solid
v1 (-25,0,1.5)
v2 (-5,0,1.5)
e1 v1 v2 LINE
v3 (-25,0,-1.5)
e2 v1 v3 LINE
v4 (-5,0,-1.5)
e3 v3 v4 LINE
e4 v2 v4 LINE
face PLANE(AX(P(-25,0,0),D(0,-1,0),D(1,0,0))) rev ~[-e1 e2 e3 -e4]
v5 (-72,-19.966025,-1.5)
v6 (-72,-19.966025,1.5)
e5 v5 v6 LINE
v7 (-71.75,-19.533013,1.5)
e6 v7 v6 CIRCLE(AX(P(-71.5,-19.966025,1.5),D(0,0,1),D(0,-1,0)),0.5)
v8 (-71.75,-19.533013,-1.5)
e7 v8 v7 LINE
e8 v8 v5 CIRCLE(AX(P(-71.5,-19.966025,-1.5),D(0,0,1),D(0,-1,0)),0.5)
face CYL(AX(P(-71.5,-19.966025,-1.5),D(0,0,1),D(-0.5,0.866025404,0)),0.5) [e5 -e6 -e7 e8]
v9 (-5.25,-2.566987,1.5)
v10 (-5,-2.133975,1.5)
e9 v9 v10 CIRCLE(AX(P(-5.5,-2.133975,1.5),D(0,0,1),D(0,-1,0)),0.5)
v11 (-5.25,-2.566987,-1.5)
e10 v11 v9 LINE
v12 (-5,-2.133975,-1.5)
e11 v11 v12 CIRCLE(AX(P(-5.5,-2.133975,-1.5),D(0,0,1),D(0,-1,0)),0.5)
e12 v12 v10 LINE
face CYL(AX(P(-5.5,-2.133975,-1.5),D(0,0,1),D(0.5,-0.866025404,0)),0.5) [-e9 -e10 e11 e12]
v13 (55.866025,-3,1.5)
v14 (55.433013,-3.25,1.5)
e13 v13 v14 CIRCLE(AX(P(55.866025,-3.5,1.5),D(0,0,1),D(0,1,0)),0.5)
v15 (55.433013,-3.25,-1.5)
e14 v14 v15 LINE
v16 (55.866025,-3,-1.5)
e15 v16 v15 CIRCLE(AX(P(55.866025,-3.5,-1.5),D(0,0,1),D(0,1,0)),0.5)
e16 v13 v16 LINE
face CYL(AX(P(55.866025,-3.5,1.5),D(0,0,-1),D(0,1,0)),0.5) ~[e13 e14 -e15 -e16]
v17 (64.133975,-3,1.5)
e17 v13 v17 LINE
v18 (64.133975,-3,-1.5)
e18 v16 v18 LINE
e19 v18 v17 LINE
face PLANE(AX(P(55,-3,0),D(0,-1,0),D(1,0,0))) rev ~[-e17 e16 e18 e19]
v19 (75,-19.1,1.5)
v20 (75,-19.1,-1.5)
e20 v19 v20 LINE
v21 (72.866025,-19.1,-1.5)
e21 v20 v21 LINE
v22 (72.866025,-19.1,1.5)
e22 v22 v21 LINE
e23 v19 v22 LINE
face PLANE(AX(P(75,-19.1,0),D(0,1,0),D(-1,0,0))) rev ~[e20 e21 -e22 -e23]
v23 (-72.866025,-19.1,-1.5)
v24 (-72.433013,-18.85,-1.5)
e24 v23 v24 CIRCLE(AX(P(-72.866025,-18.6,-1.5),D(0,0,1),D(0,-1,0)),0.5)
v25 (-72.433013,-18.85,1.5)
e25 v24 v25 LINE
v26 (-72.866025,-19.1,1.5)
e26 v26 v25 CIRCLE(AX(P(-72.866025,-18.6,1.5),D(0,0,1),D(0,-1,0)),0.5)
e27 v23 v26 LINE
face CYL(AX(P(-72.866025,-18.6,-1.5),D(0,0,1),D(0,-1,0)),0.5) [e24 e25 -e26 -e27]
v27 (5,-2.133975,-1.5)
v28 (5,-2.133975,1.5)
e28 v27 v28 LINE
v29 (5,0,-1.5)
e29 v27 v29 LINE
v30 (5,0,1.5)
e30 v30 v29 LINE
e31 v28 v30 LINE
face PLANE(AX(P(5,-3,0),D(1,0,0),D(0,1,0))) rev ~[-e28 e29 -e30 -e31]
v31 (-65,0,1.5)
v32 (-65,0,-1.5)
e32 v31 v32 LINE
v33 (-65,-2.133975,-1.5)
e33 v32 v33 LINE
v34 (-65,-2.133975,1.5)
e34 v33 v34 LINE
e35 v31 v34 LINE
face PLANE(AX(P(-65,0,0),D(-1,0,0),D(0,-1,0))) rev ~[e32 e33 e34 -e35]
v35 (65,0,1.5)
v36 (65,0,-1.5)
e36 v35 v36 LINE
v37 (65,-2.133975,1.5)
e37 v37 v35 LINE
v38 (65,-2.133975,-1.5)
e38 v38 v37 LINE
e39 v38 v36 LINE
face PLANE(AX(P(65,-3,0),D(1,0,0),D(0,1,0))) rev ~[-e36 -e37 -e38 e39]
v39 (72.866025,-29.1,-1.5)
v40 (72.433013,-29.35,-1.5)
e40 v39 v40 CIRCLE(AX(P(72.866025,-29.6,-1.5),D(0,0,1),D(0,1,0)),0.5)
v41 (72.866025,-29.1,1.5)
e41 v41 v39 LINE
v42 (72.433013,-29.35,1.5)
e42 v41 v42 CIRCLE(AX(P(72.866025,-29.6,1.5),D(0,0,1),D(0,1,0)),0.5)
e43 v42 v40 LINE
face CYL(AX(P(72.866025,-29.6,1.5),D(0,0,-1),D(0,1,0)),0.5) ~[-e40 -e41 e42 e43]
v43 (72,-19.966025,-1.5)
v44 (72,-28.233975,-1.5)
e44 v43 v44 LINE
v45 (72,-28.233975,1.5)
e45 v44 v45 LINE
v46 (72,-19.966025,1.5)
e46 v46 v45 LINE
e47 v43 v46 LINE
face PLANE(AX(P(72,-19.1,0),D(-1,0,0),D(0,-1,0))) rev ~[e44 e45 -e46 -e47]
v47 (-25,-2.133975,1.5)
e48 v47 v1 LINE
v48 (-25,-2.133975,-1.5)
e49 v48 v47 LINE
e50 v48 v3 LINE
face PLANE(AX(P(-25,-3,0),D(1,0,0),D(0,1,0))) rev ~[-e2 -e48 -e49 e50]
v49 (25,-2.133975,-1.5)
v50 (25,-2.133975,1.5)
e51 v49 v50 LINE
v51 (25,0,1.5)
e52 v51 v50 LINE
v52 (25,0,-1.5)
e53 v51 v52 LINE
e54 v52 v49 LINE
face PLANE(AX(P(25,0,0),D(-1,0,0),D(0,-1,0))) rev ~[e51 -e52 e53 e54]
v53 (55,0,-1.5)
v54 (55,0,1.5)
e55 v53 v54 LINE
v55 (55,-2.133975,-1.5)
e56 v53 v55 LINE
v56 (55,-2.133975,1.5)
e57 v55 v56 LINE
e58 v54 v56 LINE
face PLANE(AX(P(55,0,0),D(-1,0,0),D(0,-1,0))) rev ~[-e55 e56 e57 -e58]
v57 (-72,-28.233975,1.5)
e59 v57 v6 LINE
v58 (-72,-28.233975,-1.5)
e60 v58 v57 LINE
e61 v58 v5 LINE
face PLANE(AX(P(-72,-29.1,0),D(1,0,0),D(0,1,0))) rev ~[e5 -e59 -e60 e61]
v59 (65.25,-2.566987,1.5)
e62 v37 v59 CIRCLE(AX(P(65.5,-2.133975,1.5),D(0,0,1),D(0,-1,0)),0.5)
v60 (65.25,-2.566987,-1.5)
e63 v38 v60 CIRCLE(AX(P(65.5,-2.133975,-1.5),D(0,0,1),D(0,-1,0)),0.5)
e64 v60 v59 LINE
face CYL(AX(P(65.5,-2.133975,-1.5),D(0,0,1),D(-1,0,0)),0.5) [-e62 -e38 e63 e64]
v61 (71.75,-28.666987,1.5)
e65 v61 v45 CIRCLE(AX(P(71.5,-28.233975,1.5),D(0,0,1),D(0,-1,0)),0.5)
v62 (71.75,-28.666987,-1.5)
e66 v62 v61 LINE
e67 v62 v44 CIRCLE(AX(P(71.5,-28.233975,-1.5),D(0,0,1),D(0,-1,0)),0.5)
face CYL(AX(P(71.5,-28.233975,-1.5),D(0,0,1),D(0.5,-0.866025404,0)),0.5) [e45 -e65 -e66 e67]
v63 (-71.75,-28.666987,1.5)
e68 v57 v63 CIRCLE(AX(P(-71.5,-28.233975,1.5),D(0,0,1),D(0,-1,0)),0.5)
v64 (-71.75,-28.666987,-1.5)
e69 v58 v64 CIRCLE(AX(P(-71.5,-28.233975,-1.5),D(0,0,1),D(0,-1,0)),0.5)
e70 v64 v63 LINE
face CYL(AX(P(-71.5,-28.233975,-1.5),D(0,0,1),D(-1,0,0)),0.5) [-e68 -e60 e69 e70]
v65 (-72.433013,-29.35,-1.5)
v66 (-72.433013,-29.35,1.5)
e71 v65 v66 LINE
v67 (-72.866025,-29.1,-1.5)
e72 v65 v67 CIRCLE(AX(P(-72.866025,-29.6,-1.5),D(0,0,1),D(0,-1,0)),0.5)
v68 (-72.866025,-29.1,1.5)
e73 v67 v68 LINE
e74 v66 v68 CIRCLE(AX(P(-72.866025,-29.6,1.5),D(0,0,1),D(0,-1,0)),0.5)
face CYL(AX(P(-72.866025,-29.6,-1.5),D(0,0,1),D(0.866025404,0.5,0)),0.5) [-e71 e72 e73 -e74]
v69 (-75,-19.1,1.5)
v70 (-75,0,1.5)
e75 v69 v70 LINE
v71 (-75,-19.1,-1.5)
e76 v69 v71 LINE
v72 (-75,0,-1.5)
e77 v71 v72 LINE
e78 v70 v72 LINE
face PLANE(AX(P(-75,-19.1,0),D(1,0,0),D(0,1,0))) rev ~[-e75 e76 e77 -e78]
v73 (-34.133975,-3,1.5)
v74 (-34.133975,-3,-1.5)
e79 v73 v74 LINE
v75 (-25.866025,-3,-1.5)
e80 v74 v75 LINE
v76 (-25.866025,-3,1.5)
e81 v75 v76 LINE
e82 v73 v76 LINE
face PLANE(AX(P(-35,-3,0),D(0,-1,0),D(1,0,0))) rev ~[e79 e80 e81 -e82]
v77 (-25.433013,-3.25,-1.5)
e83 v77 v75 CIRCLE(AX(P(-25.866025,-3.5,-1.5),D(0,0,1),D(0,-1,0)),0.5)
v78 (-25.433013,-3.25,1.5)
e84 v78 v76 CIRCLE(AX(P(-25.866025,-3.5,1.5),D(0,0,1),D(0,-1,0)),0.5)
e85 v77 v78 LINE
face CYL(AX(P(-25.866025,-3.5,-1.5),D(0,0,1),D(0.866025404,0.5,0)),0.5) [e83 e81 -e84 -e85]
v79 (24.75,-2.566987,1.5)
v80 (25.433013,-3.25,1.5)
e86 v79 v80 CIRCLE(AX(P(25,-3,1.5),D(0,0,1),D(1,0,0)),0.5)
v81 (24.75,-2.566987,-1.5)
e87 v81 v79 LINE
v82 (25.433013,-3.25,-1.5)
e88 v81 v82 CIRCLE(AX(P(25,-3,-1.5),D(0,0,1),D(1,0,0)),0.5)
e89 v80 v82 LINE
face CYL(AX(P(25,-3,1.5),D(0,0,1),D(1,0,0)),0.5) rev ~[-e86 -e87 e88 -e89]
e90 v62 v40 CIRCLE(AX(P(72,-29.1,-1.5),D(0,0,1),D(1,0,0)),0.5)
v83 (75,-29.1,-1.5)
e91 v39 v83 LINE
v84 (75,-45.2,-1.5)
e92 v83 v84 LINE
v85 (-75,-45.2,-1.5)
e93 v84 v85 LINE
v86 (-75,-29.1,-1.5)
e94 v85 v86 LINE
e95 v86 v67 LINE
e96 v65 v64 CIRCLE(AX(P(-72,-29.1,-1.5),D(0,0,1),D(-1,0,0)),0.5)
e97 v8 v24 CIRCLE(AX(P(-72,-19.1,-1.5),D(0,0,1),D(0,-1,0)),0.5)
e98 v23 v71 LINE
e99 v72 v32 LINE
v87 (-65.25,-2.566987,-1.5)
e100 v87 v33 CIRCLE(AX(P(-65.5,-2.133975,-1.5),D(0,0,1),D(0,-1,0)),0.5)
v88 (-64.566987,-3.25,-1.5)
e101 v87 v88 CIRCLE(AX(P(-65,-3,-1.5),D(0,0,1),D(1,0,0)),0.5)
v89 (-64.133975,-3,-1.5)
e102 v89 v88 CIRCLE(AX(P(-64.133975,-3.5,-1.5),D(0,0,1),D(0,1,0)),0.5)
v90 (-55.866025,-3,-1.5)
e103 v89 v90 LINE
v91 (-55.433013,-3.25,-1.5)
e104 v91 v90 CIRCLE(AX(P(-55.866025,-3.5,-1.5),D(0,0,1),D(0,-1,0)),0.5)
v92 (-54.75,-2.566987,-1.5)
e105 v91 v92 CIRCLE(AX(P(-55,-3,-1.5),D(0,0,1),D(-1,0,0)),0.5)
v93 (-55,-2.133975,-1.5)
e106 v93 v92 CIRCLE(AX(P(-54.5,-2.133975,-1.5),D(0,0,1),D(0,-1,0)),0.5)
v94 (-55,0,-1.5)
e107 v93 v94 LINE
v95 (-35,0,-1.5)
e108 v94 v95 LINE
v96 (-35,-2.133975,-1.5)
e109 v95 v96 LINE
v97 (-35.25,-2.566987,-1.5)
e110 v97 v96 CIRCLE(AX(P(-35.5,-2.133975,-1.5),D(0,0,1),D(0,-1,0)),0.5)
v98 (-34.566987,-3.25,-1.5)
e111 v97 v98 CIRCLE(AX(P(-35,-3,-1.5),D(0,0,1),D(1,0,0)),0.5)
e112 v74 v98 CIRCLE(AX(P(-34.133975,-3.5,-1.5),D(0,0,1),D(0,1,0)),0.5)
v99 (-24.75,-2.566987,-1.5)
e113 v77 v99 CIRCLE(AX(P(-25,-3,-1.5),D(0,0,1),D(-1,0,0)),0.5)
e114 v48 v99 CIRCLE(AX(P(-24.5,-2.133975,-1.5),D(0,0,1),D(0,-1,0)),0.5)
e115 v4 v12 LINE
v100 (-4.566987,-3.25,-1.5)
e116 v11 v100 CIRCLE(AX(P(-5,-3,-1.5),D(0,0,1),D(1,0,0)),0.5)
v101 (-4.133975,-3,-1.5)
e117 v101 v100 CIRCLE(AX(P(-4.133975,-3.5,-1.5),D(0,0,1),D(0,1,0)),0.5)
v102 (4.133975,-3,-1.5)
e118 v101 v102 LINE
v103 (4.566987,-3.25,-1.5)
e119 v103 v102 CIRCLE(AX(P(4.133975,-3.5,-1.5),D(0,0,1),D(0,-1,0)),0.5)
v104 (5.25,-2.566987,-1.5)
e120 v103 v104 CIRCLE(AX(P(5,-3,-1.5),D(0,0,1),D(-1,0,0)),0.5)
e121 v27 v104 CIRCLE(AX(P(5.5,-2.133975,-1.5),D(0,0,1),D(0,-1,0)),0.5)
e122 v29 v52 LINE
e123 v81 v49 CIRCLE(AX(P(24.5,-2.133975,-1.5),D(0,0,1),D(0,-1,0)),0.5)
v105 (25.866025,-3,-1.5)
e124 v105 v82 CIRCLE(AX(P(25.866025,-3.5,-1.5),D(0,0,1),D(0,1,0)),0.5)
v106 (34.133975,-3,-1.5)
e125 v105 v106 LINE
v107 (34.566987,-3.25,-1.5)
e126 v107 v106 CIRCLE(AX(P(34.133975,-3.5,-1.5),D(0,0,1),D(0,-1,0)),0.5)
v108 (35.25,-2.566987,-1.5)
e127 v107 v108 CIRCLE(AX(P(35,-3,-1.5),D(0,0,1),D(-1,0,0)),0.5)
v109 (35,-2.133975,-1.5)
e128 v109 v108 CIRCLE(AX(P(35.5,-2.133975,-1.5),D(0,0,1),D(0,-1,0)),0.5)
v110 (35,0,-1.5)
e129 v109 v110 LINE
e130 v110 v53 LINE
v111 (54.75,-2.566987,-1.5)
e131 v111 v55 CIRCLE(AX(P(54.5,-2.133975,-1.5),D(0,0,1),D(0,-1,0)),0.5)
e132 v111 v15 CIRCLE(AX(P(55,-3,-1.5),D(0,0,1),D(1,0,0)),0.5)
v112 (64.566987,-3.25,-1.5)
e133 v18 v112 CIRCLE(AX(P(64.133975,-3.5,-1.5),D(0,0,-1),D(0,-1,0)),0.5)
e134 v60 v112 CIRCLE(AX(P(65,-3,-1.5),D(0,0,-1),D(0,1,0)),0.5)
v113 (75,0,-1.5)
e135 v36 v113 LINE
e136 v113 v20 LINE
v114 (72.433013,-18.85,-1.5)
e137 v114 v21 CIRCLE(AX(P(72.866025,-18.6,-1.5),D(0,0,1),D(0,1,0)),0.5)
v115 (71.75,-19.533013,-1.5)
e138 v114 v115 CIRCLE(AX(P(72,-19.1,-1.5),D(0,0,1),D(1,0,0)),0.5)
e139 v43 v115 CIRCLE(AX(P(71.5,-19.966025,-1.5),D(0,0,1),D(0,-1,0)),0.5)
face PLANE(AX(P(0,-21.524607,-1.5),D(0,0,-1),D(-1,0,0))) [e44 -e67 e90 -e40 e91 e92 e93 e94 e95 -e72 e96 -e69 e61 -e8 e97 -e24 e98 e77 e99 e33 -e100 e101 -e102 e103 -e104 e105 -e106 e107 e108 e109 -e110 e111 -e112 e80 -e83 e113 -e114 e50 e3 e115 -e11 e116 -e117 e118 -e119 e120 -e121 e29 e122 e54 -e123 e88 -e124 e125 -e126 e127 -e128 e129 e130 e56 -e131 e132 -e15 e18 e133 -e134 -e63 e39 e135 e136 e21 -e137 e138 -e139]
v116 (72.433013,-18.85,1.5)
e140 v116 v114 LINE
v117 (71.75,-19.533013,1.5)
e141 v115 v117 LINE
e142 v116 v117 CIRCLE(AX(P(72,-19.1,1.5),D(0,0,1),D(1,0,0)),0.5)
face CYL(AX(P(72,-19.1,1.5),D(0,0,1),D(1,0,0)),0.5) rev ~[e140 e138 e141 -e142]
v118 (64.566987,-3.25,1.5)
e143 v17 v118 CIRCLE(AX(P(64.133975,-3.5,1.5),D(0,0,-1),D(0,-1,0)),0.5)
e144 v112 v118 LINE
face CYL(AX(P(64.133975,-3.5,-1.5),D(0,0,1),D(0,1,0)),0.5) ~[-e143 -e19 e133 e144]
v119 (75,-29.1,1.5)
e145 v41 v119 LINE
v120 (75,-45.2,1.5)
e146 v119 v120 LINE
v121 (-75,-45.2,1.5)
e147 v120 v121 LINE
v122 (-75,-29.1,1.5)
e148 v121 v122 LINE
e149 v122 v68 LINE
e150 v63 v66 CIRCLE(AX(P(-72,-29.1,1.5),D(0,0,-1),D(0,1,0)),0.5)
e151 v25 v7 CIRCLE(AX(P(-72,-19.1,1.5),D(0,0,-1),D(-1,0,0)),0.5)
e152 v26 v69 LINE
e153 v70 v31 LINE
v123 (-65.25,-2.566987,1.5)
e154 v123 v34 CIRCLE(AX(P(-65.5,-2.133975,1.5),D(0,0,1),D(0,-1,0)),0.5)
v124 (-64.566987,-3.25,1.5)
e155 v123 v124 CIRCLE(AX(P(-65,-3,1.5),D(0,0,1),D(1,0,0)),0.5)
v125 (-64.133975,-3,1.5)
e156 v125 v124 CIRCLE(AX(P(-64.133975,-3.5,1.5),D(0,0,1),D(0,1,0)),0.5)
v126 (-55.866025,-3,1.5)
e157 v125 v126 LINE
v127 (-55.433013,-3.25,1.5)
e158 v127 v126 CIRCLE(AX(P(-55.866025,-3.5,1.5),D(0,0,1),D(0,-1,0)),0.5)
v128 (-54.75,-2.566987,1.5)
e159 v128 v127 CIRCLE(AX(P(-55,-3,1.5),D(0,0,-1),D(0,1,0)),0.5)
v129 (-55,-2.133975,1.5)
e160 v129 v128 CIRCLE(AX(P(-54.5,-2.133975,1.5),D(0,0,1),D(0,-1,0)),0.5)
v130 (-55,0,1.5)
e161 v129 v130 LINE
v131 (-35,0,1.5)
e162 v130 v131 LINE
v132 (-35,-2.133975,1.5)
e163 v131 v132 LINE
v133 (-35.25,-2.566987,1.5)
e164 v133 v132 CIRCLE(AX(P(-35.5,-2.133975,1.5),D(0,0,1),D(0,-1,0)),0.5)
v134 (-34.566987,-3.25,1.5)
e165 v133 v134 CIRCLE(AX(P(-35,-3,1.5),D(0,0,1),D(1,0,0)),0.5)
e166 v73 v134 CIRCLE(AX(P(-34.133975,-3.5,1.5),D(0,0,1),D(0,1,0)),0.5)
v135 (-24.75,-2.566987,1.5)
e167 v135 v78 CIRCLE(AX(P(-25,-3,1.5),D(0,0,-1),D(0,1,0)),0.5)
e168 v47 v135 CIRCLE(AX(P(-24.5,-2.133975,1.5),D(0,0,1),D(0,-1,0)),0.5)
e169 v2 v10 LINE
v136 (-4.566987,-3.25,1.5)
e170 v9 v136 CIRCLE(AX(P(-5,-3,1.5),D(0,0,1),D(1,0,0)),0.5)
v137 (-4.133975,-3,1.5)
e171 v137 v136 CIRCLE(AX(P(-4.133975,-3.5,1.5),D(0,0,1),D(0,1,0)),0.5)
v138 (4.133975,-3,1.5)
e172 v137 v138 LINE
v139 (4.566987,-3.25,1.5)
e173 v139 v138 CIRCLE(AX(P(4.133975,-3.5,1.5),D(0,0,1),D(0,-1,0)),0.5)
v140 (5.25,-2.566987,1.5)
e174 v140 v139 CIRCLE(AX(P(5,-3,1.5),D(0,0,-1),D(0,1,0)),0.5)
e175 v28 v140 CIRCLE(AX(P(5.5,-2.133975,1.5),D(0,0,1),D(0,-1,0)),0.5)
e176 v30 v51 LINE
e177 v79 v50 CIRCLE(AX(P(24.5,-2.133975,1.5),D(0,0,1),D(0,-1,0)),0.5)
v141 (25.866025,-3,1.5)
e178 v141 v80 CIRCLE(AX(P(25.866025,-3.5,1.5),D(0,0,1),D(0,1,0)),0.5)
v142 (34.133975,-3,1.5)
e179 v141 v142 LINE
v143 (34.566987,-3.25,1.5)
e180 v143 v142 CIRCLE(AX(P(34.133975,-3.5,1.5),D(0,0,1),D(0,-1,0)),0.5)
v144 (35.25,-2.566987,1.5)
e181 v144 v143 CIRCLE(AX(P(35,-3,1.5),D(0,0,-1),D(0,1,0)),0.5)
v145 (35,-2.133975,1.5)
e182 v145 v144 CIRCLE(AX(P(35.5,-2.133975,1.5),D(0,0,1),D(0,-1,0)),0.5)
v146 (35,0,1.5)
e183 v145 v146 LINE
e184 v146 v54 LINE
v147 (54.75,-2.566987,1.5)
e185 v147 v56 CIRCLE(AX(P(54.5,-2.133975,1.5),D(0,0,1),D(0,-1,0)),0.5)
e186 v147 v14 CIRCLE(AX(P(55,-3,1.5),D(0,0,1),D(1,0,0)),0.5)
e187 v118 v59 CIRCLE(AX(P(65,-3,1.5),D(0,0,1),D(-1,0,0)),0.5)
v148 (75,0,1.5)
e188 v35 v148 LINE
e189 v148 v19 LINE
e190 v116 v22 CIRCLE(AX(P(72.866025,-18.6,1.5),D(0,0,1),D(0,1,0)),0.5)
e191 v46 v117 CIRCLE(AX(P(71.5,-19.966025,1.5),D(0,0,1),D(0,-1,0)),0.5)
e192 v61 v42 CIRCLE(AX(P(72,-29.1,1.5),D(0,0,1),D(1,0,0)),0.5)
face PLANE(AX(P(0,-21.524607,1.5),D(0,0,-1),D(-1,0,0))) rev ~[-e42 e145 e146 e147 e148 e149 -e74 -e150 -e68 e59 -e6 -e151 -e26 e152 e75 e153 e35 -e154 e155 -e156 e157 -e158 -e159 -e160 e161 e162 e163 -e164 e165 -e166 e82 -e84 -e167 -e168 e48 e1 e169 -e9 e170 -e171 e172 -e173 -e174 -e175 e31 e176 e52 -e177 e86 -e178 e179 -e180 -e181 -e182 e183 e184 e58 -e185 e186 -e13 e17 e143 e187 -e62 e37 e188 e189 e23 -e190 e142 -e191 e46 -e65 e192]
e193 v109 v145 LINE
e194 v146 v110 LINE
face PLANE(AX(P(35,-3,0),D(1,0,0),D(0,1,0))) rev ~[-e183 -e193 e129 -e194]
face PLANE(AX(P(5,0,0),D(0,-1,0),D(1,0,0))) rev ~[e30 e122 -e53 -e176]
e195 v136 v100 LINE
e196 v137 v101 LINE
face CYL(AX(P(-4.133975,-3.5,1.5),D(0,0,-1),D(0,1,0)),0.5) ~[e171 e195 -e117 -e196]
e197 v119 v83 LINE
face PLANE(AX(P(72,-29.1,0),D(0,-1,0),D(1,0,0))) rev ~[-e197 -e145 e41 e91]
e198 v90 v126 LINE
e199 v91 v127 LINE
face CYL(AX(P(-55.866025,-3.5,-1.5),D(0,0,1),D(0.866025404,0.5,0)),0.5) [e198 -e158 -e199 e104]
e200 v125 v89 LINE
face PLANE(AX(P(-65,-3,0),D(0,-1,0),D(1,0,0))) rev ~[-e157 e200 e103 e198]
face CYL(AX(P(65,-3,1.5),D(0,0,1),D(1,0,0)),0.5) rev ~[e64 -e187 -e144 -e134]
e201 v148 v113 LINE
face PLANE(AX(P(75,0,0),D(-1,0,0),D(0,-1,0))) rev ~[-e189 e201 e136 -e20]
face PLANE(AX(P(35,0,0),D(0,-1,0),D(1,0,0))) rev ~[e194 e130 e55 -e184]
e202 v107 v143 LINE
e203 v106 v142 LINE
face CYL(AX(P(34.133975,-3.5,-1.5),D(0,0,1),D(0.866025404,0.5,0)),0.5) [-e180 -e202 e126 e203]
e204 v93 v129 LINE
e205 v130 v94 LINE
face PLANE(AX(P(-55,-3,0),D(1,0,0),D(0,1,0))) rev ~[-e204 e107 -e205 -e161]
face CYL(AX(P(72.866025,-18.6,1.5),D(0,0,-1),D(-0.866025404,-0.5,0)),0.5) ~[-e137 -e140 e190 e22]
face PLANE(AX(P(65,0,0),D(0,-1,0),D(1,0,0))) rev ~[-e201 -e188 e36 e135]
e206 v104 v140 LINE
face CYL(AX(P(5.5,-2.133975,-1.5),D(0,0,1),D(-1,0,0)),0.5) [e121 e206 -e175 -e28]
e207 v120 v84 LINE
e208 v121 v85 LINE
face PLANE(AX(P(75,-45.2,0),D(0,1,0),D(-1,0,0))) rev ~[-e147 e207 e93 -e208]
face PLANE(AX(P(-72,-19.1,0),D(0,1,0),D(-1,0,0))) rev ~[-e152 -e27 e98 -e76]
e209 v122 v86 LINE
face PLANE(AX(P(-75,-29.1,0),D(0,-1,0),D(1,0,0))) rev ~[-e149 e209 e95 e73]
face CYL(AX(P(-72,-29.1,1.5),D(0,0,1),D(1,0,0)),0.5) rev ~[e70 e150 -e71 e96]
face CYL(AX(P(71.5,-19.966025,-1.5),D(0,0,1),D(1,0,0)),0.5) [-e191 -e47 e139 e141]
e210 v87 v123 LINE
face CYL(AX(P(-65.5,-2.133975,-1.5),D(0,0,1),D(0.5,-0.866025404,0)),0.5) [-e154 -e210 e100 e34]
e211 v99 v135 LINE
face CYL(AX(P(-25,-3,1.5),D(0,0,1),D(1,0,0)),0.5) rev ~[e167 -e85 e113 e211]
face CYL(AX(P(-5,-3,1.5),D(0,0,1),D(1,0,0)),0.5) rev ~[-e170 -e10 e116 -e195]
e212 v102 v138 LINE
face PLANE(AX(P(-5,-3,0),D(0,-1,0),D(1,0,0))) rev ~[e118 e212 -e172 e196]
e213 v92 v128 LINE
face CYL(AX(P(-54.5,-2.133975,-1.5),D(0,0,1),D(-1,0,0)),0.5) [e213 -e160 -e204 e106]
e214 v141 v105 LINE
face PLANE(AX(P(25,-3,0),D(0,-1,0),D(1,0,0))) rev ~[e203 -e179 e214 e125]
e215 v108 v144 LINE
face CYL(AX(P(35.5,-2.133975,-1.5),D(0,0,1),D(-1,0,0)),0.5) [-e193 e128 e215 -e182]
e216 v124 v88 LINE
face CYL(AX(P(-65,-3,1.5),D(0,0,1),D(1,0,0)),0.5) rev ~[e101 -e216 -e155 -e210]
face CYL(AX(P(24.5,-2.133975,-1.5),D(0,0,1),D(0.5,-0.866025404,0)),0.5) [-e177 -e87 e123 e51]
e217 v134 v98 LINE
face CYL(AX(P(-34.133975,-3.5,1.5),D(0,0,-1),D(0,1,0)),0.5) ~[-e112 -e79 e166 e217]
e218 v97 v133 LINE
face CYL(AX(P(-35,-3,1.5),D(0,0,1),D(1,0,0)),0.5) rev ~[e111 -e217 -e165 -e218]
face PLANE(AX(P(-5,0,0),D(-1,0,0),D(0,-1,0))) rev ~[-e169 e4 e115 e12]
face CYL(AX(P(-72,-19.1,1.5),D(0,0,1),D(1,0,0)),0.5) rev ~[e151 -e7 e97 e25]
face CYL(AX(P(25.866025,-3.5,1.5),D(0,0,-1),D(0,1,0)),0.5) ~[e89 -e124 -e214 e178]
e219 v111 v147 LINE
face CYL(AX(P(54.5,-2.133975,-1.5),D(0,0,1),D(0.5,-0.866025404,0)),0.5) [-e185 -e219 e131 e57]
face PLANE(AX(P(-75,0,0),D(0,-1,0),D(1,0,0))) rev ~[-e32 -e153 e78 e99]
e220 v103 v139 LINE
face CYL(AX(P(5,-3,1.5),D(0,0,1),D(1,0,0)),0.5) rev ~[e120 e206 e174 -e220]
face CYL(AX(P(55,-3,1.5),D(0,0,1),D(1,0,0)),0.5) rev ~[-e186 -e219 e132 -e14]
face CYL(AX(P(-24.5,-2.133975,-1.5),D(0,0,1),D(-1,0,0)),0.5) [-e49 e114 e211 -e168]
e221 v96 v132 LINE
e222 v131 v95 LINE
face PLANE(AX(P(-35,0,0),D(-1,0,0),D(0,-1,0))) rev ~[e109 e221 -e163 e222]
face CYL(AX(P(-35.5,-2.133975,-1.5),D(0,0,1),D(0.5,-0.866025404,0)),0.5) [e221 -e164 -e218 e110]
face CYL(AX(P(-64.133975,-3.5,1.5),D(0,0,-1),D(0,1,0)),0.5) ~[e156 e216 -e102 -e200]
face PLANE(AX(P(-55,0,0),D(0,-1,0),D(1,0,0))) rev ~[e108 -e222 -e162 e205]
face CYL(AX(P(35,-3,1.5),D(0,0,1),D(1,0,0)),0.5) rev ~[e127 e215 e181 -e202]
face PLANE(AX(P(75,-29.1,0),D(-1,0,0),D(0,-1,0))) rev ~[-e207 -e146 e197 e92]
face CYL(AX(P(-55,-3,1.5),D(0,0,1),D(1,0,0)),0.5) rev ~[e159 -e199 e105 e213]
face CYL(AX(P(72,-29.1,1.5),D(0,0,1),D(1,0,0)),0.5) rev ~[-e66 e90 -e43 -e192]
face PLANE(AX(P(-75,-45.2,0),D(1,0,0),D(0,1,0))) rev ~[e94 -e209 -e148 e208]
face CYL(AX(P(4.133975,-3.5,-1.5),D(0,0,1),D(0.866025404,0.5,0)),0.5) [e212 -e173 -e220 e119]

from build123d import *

# Parameters (mm, degrees)
BOSS_EXTRUDE1_DEPTH = 1.5
SKETCH2_R           = 0.5
CUT_EXTRUDE1_DEPTH  = 88.618719461
FILLET1_R           = 0.5


with BuildPart() as part:
    # Sketch1 → Boss-Extrude1 (new, symmetric)
    with BuildSketch(Plane.XY):
        Polygon((65, -3), (65, 0), (75, 0), (75, -19.1), (72, -19.1), (72, -29.1), (75, -29.1), (75, -45.2), (-75, -45.2), (-75, -29.1), (-72, -29.1), (-72, -19.1), (-75, -19.1), (-75, 0), (-65, 0), (-65, -3), (-55, -3), (-55, 0), (-35, 0), (-35, -3), (-25, -3), (-25, 0), (-5, 0), (-5, -3), (5, -3), (5, 0), (25, 0), (25, -3), (35, -3), (35, 0), (55, 0), (55, -3), align=None)
    extrude(amount=BOSS_EXTRUDE1_DEPTH, both=True)

    # Sketch2 → Cut-Extrude1 (cut, through all)
    with BuildSketch(Plane.XY.offset(1.5)):
        with Locations((-72, -29.1)):
            Circle(SKETCH2_R)
        with Locations((-72, -19.1)):
            Circle(SKETCH2_R)
        with Locations((-65, -3)):
            Circle(SKETCH2_R)
        with Locations((-55, -3)):
            Circle(SKETCH2_R)
        with Locations((-35, -3)):
            Circle(SKETCH2_R)
        with Locations((-25, -3)):
            Circle(SKETCH2_R)
        with Locations((-5, -3)):
            Circle(SKETCH2_R)
        with Locations((5, -3)):
            Circle(SKETCH2_R)
        with Locations((25, -3)):
            Circle(SKETCH2_R)
        with Locations((35, -3)):
            Circle(SKETCH2_R)
        with Locations((55, -3)):
            Circle(SKETCH2_R)
        with Locations((65, -3)):
            Circle(SKETCH2_R)
        with Locations((72, -19.1)):
            Circle(SKETCH2_R)
        with Locations((72, -29.1)):
            Circle(SKETCH2_R)
    extrude(amount=-CUT_EXTRUDE1_DEPTH, mode=Mode.SUBTRACT)

    # Fillet1
    fillet1_edges = [part.edges().sort_by_distance(p)[0] for p in [
        (72.5, -29.1, 0),
        (72, -28.6, 0),
        (72, -19.6, 0),
        (72.5, -19.1, 0),
        (65, -2.5, 0),
        (64.5, -3, 0),
        (55.5, -3, 0),
        (55, -2.5, 0),
        (35, -2.5, 0),
        (34.5, -3, 0),
        (25.5, -3, 0),
        (25, -2.5, 0),
        (5, -2.5, 0),
        (4.5, -3, 0),
        (-4.5, -3, 0),
        (-5, -2.5, 0),
        (-25, -2.5, 0),
        (-25.5, -3, 0),
        (-34.5, -3, 0),
        (-35, -2.5, 0),
        (-55, -2.5, 0),
        (-55.5, -3, 0),
        (-64.5, -3, 0),
        (-65, -2.5, 0),
        (-72.5, -19.1, 0),
        (-72, -19.6, 0),
        (-72, -28.6, 0),
        (-72.5, -29.1, 0),
    ]]
    fillet(fillet1_edges, radius=FILLET1_R)


solid = part.part
